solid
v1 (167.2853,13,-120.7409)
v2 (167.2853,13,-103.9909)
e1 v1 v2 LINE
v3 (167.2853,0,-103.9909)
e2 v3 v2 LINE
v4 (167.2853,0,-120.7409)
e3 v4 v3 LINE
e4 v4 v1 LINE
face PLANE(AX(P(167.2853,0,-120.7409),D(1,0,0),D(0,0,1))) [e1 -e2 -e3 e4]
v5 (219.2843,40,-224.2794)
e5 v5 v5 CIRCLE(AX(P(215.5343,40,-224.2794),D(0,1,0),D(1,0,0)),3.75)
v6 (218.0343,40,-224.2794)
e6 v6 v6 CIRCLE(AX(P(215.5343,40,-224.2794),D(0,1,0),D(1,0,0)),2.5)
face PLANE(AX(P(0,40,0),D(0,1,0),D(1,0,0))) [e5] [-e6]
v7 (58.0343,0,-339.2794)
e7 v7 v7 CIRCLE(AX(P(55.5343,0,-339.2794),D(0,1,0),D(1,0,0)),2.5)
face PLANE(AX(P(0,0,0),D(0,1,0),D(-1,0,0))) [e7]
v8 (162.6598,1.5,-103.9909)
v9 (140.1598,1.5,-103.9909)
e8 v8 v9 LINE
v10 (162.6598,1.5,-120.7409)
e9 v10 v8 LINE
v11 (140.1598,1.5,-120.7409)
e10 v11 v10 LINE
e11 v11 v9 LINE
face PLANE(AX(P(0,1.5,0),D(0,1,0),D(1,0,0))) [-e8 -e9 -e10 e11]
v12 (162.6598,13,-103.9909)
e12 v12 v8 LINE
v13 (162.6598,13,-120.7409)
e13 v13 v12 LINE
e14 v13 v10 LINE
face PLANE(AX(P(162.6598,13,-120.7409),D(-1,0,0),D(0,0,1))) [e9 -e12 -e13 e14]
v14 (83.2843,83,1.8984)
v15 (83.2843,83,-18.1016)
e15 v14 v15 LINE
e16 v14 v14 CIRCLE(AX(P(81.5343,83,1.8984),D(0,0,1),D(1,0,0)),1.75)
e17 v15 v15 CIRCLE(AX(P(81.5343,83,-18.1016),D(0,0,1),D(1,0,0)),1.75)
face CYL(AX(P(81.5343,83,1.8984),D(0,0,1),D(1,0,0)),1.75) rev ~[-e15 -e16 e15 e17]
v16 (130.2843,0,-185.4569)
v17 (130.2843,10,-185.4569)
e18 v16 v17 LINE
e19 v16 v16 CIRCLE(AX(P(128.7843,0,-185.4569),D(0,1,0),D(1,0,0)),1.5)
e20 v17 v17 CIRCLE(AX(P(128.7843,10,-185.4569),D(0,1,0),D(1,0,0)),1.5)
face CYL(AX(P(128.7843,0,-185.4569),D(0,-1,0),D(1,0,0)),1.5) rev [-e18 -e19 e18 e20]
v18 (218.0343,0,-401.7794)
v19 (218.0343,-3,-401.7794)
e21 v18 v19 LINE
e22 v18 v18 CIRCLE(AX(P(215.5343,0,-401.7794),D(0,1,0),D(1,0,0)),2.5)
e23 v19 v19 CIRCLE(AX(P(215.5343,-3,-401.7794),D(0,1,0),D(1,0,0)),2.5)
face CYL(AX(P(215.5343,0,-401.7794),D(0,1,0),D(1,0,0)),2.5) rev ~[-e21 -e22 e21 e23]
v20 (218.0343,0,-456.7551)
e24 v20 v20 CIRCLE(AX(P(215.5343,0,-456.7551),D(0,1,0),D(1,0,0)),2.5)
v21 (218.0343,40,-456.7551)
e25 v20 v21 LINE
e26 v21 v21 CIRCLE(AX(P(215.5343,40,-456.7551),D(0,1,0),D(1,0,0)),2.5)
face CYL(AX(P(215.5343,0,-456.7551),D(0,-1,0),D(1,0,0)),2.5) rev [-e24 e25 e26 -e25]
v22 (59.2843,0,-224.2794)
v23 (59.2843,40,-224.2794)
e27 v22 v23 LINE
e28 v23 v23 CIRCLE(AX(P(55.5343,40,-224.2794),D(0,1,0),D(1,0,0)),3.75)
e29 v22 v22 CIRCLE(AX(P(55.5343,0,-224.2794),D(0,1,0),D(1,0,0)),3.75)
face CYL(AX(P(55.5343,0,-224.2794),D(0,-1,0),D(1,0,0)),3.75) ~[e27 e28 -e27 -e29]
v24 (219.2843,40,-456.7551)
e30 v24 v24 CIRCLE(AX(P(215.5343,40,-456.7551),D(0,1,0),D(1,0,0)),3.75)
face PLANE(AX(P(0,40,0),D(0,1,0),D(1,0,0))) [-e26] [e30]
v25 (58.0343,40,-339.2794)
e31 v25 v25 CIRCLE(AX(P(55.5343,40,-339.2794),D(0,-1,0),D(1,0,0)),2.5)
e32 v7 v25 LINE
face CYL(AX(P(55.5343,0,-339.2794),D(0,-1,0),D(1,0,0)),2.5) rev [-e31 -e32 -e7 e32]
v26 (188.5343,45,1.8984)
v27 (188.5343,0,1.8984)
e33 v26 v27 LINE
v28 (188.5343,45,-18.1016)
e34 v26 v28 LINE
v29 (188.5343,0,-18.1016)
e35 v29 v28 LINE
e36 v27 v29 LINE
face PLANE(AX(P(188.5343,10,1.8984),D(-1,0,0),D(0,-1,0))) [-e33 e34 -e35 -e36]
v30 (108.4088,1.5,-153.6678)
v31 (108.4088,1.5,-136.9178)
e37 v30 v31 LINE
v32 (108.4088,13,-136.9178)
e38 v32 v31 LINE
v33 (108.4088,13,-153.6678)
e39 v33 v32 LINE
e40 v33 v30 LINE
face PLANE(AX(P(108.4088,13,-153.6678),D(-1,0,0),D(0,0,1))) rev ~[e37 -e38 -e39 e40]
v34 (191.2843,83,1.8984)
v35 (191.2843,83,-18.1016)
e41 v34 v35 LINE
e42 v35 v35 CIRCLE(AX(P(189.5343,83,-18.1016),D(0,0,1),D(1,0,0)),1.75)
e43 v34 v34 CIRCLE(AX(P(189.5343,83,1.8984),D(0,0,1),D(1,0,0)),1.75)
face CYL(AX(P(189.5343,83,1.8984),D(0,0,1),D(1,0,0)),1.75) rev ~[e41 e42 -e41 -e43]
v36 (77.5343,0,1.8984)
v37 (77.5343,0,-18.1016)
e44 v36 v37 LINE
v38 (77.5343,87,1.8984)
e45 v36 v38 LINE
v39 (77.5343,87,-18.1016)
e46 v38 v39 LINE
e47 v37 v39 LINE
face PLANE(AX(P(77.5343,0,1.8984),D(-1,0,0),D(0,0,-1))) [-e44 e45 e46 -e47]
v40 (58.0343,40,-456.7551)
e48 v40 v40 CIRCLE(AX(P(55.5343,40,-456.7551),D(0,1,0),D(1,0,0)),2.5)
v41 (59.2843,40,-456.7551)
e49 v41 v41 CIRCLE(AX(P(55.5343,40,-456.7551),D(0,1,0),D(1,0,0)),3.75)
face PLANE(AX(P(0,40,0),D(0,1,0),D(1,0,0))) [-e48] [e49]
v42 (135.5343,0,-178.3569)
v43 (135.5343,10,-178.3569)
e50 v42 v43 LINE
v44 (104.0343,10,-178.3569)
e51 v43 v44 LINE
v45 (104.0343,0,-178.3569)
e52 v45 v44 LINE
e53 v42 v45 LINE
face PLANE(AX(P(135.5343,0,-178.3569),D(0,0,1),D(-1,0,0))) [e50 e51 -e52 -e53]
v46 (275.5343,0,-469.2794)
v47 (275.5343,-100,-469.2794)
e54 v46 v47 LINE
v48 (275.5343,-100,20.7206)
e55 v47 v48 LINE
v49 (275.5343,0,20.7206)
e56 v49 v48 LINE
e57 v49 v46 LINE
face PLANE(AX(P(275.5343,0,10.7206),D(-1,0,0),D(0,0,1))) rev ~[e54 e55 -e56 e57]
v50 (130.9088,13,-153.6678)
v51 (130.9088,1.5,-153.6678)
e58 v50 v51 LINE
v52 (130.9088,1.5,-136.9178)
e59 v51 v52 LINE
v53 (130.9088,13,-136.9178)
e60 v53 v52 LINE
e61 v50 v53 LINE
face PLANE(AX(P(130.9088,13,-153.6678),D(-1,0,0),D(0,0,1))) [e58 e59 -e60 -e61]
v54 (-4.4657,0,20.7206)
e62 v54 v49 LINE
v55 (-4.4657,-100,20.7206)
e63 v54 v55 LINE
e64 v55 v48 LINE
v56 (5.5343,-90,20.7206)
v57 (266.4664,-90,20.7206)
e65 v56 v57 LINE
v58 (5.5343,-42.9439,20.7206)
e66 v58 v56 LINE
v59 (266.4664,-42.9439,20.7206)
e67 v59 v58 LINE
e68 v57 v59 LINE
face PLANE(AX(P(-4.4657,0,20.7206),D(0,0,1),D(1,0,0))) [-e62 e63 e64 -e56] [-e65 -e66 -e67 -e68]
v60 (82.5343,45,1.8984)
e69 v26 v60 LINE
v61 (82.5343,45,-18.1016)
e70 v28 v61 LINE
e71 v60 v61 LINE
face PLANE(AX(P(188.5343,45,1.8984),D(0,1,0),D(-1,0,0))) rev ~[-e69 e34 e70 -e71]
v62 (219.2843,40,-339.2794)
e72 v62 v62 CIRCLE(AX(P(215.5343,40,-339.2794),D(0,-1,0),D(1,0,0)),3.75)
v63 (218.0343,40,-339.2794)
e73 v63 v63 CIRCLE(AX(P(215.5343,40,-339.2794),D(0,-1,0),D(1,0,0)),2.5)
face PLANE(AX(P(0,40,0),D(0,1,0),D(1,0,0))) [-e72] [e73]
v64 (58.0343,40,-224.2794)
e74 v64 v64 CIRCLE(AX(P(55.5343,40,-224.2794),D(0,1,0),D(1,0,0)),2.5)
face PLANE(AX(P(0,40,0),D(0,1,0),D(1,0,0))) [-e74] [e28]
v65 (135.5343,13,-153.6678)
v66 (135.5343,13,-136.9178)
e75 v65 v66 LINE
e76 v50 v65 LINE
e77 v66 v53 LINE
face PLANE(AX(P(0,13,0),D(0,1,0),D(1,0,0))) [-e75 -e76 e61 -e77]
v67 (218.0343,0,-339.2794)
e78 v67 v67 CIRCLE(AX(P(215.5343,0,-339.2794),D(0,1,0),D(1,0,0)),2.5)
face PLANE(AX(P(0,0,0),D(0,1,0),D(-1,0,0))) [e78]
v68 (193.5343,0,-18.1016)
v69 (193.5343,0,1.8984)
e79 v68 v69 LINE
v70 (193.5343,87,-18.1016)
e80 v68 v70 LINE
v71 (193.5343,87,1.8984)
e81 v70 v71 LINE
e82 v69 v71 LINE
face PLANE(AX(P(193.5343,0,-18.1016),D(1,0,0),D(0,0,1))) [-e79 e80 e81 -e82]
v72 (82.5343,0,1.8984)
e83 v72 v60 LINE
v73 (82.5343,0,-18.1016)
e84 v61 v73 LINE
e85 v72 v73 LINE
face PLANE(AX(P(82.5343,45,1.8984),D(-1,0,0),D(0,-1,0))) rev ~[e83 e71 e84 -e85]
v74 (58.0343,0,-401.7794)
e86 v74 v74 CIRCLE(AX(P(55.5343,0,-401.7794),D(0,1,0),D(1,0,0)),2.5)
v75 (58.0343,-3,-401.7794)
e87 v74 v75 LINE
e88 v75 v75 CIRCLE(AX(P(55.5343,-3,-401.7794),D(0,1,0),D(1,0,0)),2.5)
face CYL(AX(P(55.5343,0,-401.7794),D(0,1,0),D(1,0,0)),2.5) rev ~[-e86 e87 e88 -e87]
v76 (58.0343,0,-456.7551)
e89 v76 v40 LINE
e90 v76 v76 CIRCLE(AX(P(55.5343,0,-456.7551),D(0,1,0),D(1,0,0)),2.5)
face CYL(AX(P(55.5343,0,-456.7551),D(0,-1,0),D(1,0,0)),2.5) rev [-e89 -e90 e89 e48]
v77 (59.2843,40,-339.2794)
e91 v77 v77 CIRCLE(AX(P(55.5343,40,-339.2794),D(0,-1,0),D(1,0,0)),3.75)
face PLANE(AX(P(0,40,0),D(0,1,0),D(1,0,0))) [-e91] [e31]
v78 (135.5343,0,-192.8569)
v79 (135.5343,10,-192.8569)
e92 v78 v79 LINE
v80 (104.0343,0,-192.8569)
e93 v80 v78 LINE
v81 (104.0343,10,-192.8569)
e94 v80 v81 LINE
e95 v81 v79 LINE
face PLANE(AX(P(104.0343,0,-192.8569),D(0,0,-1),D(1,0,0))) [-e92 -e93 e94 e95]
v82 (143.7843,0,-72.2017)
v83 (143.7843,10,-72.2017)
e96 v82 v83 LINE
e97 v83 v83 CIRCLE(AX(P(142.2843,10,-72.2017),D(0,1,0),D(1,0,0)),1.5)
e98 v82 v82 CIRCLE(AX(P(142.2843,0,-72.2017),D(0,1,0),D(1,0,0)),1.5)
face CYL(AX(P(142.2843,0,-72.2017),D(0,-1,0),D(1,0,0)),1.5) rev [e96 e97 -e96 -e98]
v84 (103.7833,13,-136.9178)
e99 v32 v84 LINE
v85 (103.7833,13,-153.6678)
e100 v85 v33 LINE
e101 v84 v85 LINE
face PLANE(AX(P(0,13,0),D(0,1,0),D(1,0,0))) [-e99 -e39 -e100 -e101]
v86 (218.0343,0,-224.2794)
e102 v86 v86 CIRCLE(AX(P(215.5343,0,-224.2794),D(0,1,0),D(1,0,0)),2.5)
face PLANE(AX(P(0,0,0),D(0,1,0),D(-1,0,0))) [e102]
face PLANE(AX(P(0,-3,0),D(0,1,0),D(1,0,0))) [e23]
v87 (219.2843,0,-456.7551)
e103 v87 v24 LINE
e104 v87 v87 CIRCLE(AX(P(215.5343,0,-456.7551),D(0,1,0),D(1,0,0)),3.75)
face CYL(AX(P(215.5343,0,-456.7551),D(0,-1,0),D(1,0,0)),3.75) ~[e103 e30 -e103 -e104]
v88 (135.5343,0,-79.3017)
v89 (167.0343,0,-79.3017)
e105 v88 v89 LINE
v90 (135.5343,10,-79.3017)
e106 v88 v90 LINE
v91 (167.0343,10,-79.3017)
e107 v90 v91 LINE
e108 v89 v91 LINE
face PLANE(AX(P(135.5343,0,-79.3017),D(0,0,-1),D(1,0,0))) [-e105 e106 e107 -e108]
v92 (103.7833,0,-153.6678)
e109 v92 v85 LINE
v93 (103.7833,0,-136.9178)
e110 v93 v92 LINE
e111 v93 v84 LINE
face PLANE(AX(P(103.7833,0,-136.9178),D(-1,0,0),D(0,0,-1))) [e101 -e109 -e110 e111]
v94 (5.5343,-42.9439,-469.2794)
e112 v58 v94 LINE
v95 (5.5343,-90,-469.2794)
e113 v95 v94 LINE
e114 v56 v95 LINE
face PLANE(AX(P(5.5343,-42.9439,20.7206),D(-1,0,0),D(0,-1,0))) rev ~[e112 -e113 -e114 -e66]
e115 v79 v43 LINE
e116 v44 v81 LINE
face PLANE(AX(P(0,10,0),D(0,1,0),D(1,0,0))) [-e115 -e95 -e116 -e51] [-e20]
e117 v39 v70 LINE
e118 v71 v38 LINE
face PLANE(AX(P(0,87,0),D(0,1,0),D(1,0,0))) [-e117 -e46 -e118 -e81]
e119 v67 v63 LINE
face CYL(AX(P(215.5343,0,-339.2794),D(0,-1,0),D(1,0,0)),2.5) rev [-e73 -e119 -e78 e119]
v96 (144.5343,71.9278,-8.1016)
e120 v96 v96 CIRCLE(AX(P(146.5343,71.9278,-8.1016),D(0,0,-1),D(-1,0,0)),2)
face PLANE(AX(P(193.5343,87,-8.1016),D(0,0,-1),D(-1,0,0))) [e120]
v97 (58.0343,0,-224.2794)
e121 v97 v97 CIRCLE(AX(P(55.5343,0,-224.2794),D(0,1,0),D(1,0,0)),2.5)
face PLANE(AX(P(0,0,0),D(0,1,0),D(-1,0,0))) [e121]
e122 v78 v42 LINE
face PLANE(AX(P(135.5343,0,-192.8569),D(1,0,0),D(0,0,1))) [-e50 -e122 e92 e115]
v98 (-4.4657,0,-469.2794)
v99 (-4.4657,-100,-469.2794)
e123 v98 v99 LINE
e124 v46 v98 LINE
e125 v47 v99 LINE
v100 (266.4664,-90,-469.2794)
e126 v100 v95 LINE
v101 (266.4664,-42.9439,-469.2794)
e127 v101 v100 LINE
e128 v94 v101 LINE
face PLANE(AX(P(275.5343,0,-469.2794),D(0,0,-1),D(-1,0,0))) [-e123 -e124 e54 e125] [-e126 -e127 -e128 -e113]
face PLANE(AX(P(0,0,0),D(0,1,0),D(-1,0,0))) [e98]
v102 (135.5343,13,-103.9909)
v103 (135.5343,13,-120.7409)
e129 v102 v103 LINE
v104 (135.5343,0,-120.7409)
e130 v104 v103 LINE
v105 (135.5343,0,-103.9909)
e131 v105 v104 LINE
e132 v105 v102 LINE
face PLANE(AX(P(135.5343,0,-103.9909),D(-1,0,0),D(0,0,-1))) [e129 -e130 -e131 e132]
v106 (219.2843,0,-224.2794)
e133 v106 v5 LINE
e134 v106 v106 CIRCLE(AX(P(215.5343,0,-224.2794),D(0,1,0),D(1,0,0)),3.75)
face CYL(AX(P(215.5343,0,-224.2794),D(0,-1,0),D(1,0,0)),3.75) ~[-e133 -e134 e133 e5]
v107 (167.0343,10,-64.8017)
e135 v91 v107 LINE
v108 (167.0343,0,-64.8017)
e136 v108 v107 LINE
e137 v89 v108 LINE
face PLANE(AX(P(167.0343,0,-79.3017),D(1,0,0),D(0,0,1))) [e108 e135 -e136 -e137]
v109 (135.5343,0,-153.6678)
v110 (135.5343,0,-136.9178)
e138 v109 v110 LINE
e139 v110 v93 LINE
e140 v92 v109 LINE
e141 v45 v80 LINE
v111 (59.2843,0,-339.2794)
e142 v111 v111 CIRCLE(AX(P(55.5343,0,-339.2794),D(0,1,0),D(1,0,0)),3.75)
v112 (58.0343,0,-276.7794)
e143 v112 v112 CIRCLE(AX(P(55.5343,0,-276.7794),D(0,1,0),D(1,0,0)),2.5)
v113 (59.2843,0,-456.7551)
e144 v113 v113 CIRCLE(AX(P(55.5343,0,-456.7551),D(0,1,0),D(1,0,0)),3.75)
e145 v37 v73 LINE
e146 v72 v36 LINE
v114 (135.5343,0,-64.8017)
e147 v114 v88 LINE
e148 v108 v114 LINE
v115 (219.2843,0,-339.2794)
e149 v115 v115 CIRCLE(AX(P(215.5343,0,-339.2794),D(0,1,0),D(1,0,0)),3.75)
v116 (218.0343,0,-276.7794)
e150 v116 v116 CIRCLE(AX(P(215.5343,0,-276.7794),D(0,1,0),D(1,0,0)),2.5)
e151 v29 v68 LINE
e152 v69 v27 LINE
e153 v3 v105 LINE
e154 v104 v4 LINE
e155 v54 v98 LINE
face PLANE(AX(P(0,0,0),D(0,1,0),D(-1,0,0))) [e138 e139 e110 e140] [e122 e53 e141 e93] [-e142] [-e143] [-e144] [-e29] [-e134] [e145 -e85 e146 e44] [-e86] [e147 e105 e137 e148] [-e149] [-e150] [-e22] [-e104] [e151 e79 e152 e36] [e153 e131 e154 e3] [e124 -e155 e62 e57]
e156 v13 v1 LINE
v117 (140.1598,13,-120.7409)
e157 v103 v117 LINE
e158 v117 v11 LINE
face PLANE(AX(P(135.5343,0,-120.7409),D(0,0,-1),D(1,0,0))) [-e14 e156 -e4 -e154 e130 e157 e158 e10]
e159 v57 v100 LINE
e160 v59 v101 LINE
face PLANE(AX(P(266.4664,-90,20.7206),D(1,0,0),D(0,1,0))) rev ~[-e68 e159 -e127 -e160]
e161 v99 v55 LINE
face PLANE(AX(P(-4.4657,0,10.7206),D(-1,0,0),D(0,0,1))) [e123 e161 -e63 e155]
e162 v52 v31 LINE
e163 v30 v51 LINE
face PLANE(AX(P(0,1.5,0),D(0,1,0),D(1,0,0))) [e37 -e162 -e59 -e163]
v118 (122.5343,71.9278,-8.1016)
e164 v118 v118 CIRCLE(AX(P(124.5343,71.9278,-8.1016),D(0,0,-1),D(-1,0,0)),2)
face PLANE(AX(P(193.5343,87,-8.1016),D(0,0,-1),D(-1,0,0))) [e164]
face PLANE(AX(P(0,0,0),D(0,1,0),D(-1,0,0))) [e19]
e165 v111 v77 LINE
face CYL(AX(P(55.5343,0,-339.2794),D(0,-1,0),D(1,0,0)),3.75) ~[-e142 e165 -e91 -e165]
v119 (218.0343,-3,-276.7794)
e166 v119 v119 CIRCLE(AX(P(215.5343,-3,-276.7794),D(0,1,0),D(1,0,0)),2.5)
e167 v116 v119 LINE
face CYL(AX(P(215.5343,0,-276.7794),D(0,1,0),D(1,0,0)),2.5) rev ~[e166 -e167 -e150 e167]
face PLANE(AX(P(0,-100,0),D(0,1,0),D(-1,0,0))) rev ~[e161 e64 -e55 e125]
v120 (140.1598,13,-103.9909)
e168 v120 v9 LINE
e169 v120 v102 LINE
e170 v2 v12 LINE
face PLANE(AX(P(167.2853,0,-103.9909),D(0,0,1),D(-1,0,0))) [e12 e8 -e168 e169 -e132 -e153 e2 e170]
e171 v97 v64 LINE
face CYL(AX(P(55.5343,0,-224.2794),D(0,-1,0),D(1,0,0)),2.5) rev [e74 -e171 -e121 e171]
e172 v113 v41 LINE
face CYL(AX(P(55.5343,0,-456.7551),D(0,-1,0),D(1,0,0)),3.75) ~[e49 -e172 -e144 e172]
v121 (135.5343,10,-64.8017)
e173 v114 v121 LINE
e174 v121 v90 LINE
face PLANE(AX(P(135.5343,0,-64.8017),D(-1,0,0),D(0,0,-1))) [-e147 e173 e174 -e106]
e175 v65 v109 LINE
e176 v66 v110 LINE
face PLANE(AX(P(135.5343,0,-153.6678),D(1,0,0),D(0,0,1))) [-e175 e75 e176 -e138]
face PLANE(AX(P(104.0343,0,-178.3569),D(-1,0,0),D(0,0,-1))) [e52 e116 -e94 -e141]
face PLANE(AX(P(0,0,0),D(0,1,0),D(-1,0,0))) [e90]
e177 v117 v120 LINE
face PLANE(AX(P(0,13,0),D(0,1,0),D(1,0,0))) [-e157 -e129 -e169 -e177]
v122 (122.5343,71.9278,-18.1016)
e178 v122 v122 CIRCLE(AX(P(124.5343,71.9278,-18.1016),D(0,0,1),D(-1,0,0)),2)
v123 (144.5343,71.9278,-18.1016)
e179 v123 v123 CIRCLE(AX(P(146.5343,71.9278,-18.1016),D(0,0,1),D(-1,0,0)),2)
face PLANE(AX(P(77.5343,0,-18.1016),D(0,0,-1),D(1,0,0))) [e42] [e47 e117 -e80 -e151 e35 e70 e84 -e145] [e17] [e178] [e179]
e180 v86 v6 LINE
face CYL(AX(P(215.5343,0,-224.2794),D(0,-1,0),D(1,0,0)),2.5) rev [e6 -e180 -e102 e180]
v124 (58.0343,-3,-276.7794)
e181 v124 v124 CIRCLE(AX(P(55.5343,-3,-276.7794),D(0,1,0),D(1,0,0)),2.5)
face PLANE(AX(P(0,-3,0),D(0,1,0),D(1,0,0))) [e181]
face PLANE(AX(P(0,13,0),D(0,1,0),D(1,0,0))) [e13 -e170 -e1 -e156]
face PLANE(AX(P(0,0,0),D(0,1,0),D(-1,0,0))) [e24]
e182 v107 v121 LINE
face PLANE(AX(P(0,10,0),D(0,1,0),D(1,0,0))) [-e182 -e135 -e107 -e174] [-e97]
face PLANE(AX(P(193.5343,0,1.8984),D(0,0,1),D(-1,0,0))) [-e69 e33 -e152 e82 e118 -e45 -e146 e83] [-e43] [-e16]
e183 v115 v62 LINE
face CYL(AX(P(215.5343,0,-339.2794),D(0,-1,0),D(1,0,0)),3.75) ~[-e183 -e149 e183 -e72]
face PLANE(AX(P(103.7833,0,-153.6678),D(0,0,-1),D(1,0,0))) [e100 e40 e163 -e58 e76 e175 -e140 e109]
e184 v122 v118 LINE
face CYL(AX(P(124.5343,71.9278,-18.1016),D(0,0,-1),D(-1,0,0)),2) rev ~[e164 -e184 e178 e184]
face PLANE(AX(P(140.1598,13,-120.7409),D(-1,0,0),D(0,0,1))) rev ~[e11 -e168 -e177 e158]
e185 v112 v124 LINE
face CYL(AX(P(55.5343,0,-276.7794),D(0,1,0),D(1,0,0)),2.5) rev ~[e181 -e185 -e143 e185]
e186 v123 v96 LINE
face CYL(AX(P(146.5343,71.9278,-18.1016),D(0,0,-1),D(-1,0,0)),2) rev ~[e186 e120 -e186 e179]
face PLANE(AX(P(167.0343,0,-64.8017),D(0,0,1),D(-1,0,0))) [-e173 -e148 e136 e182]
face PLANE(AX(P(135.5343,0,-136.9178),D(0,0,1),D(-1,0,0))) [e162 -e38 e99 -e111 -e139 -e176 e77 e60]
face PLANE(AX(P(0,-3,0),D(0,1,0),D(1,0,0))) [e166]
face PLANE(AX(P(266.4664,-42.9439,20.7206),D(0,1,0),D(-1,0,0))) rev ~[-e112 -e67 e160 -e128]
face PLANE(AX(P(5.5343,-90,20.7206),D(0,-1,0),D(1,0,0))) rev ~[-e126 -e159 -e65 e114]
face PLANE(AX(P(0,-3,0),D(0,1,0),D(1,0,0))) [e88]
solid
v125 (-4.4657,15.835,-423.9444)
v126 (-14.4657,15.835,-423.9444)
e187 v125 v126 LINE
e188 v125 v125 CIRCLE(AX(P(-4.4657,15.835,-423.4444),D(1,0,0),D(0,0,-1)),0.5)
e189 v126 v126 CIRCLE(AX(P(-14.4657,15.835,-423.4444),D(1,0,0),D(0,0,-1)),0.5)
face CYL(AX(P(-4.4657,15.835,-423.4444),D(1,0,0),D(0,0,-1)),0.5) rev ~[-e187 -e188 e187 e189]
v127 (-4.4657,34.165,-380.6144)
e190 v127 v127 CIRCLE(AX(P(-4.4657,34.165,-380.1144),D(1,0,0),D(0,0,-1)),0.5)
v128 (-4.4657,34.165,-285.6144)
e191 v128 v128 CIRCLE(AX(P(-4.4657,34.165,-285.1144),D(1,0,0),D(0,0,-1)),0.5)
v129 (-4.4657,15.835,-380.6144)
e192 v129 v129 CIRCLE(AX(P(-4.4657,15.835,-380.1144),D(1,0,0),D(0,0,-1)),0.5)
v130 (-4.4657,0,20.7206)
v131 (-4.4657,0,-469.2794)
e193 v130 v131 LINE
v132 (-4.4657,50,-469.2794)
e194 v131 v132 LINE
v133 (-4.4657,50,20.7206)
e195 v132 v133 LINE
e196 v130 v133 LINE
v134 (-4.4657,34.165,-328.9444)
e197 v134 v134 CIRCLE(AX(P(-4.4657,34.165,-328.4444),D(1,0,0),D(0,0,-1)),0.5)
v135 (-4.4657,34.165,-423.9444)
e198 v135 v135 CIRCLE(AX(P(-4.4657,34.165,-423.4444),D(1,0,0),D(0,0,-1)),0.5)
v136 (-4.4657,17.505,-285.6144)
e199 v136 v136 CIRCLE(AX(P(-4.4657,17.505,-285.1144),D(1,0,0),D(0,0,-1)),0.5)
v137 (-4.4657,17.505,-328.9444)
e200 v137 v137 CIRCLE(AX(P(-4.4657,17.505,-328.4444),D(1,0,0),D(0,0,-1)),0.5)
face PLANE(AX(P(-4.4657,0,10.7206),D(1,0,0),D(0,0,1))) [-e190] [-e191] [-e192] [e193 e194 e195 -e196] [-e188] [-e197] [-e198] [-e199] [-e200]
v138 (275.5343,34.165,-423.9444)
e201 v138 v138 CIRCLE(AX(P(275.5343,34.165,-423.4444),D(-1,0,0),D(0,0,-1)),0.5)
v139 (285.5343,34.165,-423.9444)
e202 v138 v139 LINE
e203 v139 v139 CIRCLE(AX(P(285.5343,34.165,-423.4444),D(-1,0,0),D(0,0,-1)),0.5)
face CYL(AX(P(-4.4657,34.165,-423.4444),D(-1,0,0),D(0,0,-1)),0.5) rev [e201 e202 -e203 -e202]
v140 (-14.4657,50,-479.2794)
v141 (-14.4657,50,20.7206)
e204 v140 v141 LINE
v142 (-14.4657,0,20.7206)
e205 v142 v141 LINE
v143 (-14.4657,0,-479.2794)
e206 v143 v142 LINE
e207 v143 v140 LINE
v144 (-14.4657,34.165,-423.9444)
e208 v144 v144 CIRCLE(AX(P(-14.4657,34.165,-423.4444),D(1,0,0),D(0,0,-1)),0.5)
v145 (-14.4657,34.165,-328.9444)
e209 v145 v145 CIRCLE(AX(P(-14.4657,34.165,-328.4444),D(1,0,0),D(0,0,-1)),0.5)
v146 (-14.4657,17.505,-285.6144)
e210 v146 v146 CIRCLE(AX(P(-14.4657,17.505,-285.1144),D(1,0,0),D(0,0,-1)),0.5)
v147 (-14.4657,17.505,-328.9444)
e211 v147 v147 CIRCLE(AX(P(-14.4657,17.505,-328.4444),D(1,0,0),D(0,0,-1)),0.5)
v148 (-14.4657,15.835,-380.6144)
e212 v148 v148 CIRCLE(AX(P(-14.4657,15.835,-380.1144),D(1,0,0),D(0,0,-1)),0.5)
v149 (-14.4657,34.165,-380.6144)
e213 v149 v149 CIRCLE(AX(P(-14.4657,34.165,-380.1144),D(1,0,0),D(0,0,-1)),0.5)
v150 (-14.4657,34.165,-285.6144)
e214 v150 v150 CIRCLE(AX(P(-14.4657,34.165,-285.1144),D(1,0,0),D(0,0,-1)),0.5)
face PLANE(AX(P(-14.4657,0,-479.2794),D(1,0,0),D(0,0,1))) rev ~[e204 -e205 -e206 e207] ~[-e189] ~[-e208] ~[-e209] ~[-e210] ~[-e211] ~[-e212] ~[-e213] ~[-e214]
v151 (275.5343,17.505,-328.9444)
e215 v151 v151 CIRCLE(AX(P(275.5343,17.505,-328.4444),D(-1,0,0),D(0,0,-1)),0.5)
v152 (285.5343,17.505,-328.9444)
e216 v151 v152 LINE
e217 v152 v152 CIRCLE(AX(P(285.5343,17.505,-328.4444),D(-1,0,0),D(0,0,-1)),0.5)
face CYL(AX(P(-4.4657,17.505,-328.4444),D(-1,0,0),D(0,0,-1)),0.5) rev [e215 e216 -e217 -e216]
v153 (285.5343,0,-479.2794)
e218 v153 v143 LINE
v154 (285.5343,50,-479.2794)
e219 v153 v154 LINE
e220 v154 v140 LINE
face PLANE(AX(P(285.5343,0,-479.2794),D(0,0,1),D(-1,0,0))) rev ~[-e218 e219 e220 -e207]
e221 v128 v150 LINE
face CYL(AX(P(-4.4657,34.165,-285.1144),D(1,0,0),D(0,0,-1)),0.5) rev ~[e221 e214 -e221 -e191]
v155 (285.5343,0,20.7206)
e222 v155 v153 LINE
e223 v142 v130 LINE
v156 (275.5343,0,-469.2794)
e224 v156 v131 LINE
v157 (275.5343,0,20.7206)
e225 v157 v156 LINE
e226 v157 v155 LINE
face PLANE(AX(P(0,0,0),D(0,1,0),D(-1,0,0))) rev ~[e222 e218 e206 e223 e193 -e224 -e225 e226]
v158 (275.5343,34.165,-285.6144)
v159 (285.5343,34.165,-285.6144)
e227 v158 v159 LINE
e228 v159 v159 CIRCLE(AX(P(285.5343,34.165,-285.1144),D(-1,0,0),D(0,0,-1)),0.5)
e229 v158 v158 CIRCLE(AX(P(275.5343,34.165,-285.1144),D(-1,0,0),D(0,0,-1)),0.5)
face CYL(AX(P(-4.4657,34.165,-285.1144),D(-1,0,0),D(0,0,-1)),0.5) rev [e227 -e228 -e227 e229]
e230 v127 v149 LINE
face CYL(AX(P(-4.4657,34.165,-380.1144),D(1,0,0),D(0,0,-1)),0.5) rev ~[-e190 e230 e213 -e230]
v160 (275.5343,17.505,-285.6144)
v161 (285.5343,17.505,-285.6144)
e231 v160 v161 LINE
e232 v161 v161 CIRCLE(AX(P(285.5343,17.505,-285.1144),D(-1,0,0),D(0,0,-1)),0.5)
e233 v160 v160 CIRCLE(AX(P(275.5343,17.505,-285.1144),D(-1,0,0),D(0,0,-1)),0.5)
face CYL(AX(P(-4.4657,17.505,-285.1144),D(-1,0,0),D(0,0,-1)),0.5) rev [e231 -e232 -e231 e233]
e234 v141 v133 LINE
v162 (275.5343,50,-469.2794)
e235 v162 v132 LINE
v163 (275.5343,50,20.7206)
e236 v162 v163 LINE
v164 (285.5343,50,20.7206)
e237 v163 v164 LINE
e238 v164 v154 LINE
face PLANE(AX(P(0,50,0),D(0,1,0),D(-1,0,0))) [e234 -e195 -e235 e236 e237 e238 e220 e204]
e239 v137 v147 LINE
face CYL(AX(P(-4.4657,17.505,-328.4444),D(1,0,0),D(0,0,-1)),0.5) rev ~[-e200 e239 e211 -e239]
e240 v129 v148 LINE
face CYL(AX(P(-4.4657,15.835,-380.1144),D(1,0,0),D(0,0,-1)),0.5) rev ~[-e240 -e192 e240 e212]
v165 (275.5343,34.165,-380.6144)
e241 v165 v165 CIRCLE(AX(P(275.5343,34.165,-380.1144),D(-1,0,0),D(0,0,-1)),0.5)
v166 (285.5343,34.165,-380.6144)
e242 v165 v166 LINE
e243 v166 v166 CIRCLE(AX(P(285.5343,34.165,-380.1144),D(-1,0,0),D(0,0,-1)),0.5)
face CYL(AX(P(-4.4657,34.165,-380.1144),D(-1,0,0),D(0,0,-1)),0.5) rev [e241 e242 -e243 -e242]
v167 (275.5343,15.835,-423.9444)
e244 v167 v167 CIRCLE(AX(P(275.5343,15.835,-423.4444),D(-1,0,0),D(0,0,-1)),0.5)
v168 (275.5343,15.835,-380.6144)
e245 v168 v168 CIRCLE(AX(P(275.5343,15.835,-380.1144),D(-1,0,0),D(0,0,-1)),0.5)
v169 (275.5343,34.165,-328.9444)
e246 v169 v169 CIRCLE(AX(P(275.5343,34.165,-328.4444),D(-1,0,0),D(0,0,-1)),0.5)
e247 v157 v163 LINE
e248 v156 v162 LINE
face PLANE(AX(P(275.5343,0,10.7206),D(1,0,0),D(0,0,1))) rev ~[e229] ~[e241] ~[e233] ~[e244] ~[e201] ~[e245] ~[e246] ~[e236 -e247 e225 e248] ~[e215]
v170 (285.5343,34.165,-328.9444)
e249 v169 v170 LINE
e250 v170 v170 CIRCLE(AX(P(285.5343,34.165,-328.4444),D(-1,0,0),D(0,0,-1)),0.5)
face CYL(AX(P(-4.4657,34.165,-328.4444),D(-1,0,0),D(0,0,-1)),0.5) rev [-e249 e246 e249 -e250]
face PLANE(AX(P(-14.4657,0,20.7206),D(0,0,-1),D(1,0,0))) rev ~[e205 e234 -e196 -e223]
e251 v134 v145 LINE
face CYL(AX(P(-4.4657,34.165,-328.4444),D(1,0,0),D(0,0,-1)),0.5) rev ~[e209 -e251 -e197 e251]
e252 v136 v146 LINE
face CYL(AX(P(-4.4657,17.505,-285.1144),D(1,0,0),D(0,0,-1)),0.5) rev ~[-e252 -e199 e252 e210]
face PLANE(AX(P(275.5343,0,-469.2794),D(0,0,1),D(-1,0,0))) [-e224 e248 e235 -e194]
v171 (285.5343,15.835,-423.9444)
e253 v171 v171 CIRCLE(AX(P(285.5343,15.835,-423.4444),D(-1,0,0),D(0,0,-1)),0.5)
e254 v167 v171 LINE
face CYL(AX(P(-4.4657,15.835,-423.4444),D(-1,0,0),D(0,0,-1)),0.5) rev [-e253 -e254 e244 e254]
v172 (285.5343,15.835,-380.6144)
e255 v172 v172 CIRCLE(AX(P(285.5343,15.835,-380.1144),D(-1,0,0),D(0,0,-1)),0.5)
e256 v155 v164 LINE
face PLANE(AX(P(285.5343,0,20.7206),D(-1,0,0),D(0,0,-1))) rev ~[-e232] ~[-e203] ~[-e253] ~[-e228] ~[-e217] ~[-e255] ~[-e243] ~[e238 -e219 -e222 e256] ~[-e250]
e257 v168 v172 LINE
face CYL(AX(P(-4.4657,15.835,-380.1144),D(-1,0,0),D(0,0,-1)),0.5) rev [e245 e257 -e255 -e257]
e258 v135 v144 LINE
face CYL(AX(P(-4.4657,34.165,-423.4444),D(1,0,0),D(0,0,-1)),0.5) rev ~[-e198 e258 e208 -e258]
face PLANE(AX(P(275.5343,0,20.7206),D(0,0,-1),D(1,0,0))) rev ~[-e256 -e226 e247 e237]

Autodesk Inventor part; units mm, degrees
ref_plane "YZ Plane" through (0, 0, 0) normal (1, 0, 0) x (0, 1, 0)
ref_plane "XZ Plane" through (0, 0, 0) normal (0, 1, 0) x (-1, 0, 0)
ref_plane "XY Plane" through (0, 0, 0) normal (0, 0, 1) x (1, 0, 0)
sketch "Sketch2" plane through (0, 0, 0) normal (0, 1, 0) x (-1, 0, 0)
  line L0 (14.4657, 20.7206) -> (-285.5343, 20.7206)
  line L1 (-285.5343, 20.7206) -> (-285.5343, -479.2794)
  line L2 (-285.5343, -479.2794) -> (14.4657, -479.2794)
  line L3 (14.4657, -479.2794) -> (14.4657, 20.7206)
  line L4 (-275.5343, 10.7206) -> (-275.5343, -469.2794)
  line L5 (-275.5343, -469.2794) -> (4.4657, -469.2794)
  line L6 (4.4657, -469.2794) -> (4.4657, 10.7206)
  line L7 (4.4657, 10.7206) -> (4.4657, 20.7206)
  line L8 (-275.5343, 10.7206) -> (-275.5343, 20.7206)
  point P0 (0, 0)
  dimension "d5" = 300
  dimension "d6" = 500
  dimension "d7" = 10
extrude "Extrusion2" add sketch "Sketch2" against normal blind 100 contours L7 L6 L5 L4 L8 L0
extrude "Extrusion3" add sketch "Sketch2" along normal blind 50 contours L3 L2 L1 L0 L8 L4 L5 L6 L7
sketch "Sketch3" plane through (0, 0, 0) normal (0, 1, 0) x (1, 0, 0)
  point P0 (0, 0)
sketch "Sketch4" plane through (0, 0, 0) normal (0, 1, 0) x (1, 0, 0)
  line L0 (-4.4657, 469.2794) -> (-4.4657, -20.7206) projected
  line L1 (-4.4657, -20.7206) -> (275.5343, -20.7206) projected
  line L2 (275.5343, -20.7206) -> (275.5343, 469.2794) projected
  line L3 (275.5343, 469.2794) -> (-4.4657, 469.2794) projected
  line L4 (265.5343, 439.2794) -> (165.5343, 439.2794)
  line L5 (165.5343, 439.2794) -> (165.5343, 364.2794)
  line L6 (165.5343, 364.2794) -> (265.5343, 364.2794)
  line L7 (265.5343, 364.2794) -> (265.5343, 439.2794)
  line L8 (-4.4657, 469.2794) -> (275.5343, 469.2794)
  line L9 (-4.4657, 469.2794) -> (275.5343, 469.2794)
  line L10 (135.5343, 469.2794) -> (135.5343, 234.4175)
  line L11 (0, 339.2794) -> (275.5343, 339.2794)
  line L12 (5.5343, 439.2794) -> (105.5343, 439.2794)
  line L13 (105.5343, 439.2794) -> (105.5343, 364.2794)
  line L14 (105.5343, 364.2794) -> (5.5343, 364.2794)
  line L15 (5.5343, 364.2794) -> (5.5343, 439.2794)
  line L16 (265.5343, 239.2794) -> (165.5343, 239.2794)
  line L17 (165.5343, 239.2794) -> (165.5343, 314.2794)
  line L18 (165.5343, 314.2794) -> (265.5343, 314.2794)
  line L19 (265.5343, 314.2794) -> (265.5343, 239.2794)
  line L20 (5.5343, 239.2794) -> (105.5343, 239.2794)
  line L21 (105.5343, 239.2794) -> (105.5343, 314.2794)
  line L22 (105.5343, 314.2794) -> (5.5343, 314.2794)
  line L23 (5.5343, 314.2794) -> (5.5343, 239.2794)
  line L24 (135.5343, 79.3017) -> (167.0343, 79.3017)
  line L25 (167.0343, 79.3017) -> (167.0343, 64.8017)
  line L26 (167.0343, 64.8017) -> (135.5343, 64.8017)
  line L27 (135.5343, 64.8017) -> (135.5343, 79.3017)
  circle A0 centre (142.2843, 72.2017) radius 1.5
  line L28 (135.5343, 120.7409) -> (167.2853, 120.7409)
  line L29 (167.2853, 120.7409) -> (167.2853, 103.9909)
  line L30 (167.2853, 103.9909) -> (135.5343, 103.9909)
  line L31 (135.5343, 103.9909) -> (135.5343, 120.7409)
  line L32 (135.5343, 192.8569) -> (135.5343, 178.3569)
  line L33 (135.5343, 153.6678) -> (135.5343, 136.9178)
  line L34 (103.7833, 136.9178) -> (103.7833, 153.6678)
  line L35 (103.7833, 153.6678) -> (135.5343, 153.6678)
  circle A1 centre (128.7843, 185.4569) radius 1.5
  line L36 (135.5343, 178.3569) -> (104.0343, 178.3569)
  line L37 (104.0343, 178.3569) -> (104.0343, 192.8569)
  line L38 (104.0343, 192.8569) -> (135.5343, 192.8569)
  line L39 (135.5343, 136.9178) -> (103.7833, 136.9178)
  circle A2 centre (55.5343, 401.7794) radius 2.5
  circle A3 centre (215.5343, 401.7794) radius 2.5
  circle A4 centre (55.5343, 276.7794) radius 2.5
  circle A5 centre (215.5343, 276.7794) radius 2.5
  line L40 (275.5343, 469.2794) -> (275.5343, -20.7206) projected
  line L41 (-4.4657, -20.7206) -> (275.5343, -20.7206)
  line L42 (275.5343, -20.7206) -> (275.5343, -10.7206)
  line L43 (-4.4657, -10.7206) -> (-4.4657, -20.7206)
  line L44 (-4.4657, 469.2794) -> (-4.4657, -20.7206) projected
  line L45 (-4.4657, -20.7206) -> (275.5343, -20.7206) projected
  line L46 (275.5343, -20.7206) -> (275.5343, 469.2794) projected
  line L47 (275.5343, 469.2794) -> (-4.4657, 469.2794) projected
  line L48 (77.5343, 18.1016) -> (193.5343, 18.1016)
  line L49 (193.5343, 18.1016) -> (193.5343, -1.8984)
  line L50 (193.5343, -1.8984) -> (77.5343, -1.8984)
  line L51 (77.5343, -1.8984) -> (77.5343, 18.1016)
  circle A6 centre (55.5343, 456.7551) radius 3.75
  circle A7 centre (55.5343, 339.2794) radius 3.75
  circle A8 centre (55.5343, 224.2794) radius 3.75
  circle A9 centre (215.5343, 456.7551) radius 3.75
  circle A10 centre (215.5343, 339.2794) radius 3.75
  circle A11 centre (215.5343, 224.2794) radius 3.75
  circle A12 centre (55.5343, 456.7551) radius 2.5
  circle A13 centre (215.5343, 456.7551) radius 2.5
  circle A14 centre (215.5343, 339.2794) radius 2.5
  circle A15 centre (215.5343, 224.2794) radius 2.5
  circle A16 centre (55.5343, 224.2794) radius 2.5
  circle A17 centre (55.5343, 339.2794) radius 2.5
  point P0 (0, 0)
  point P1 (77.5343, 8.1016)
  dimension "d13" = 100
  dimension "d14" = 75
  dimension "d15" = 30
  dimension "d16" = 10
  dimension "d18" = 25
  dimension "d33" = 31.5
  dimension "d34" = 14.5
  dimension "d35" = 3
  dimension "d36" = 6.75
  dimension "d37" = 7.1
  dimension "d38" = 31.751
  dimension "d39" = 16.75
  dimension "d69" = 5
  dimension "d70" = 37.5
  dimension "d71" = 50
  dimension "d75" = 116
  dimension "d76" = 20
  dimension "d77" = 82
  dimension "d90" = 7.5
  dimension "d91" = 80
  dimension "d92" = 7.5
  dimension "d93" = 80
  dimension "d94" = 7.5
  dimension "d95" = 80
  dimension "d98" = 5
  dimension "d99" = 5
  dimension "d100" = 5
  dimension "d101" = 5
  dimension "d102" = 5
  dimension "d103" = 5
extrude "Extrusion4" add sketch "Sketch4" along normal blind 10 contours L32 L36 L37 L38
sketch "Sketch5" plane through (-4.4657, -100, 20.7206) normal (0, 0, 1) x (1, 0, 0)
  line L0 (0, 100) -> (0, 0) projected
  line L1 (0, 67.0561) -> (280.9321, 67.0561)
  line L2 (280.9321, 67.0561) -> (280.9321, 0)
  line L3 (280.9321, 0) -> (0, 0)
  line L4 (0, 0) -> (0, 67.0561)
  line L5 (270.9321, 57.0561) -> (10, 57.0561)
  line L6 (10, 57.0561) -> (10, 10)
  line L7 (10, 10) -> (270.9321, 10)
  line L8 (270.9321, 10) -> (270.9321, 57.0561)
  point P0 (4.4657, 100)
  dimension "d24" = 10
extrude "Extrusion5" cut sketch "Sketch5" against normal through all contours L8 L7 L6 L5
extrude "Extrusion6" add sketch "Sketch4" along normal blind 10 contours L33 L39 L34 L35
extrude "Extrusion7" add sketch "Sketch4" along normal blind 13 contours L28 L29 L30 L31 | L33 L39 L34 L35
extrude "Extrusion8" add sketch "Sketch4" along normal blind 10 contours L24 L25 L26 L27
sketch "Sketch6" plane through (0, 13, 0) normal (0, 1, 0) x (1, 0, 0)
  line L0 (104.0343, 192.8569) -> (135.5343, 192.8569) projected
  line L1 (135.5343, 192.8569) -> (135.5343, 178.3569) projected
  line L2 (135.5343, 178.3569) -> (104.0343, 178.3569) projected
  line L3 (104.0343, 178.3569) -> (104.0343, 192.8569) projected
  line L4 (-4.4657, 469.2794) -> (-4.4657, -20.7206) projected
  line L5 (-4.4657, -20.7206) -> (275.5343, -20.7206) projected
  line L6 (275.5343, -20.7206) -> (275.5343, 469.2794) projected
  line L7 (275.5343, 469.2794) -> (-4.4657, 469.2794) projected
  line L8 (103.7833, 153.6678) -> (135.5343, 153.6678) projected
  line L9 (135.5343, 153.6678) -> (135.5343, 136.9178) projected
  line L10 (135.5343, 136.9178) -> (103.7833, 136.9178) projected
  line L11 (103.7833, 136.9178) -> (103.7833, 153.6678) projected
  line L12 (135.5343, 103.9909) -> (135.5343, 120.7409) projected
  line L13 (135.5343, 120.7409) -> (167.2853, 120.7409) projected
  line L14 (167.2853, 120.7409) -> (167.2853, 103.9909) projected
  line L15 (167.2853, 103.9909) -> (135.5343, 103.9909) projected
  line L16 (135.5343, 64.8017) -> (135.5343, 79.3017) projected
  line L17 (135.5343, 79.3017) -> (167.0343, 79.3017) projected
  line L18 (167.0343, 79.3017) -> (167.0343, 64.8017) projected
  line L19 (167.0343, 64.8017) -> (135.5343, 64.8017) projected
  line L20 (103.7833, 153.6678) -> (135.5343, 153.6678)
  line L21 (135.5343, 153.6678) -> (135.5343, 136.9178)
  line L22 (135.5343, 136.9178) -> (103.7833, 136.9178)
  line L23 (103.7833, 136.9178) -> (103.7833, 153.6678)
  line L24 (108.4088, 153.6678) -> (108.4088, 136.9178)
  line L25 (103.7833, 153.6678) -> (135.5343, 153.6678) projected
  line L26 (130.9088, 153.6678) -> (130.9088, 136.9178)
  line L27 (135.5343, 120.7409) -> (167.2853, 120.7409)
  line L28 (167.2853, 120.7409) -> (167.2853, 103.9909)
  line L29 (167.2853, 103.9909) -> (135.5343, 103.9909)
  line L30 (135.5343, 103.9909) -> (135.5343, 120.7409)
  line L31 (135.5343, 120.7409) -> (167.2853, 120.7409) projected
  line L32 (140.1598, 120.7409) -> (140.1598, 103.9909)
  line L33 (162.6598, 120.7409) -> (162.6598, 103.9909)
  point P0 (0, 0)
  point P1 (135.5343, 112.3659)
  point P2 (140.1598, 112.3659)
  dimension "d46" = 22.5
  dimension "d47" = 4.6255
  dimension "d48" = 4.6255
  dimension "d49" = 22.5
extrude "Extrusion9" cut sketch "Sketch6" against normal blind 11.5 contours L8 L26 L10 L24 | L32 L13 L33 L15
sketch "Sketch7" plane through (-4.4657, 0, 20.7206) normal (1, 0, 0) x (0, 0, -1)
  line L0 (0, 0) -> (490, 0) projected
  line L1 (490, 50) -> (0, 50) projected
  line L2 (490, 0) -> (490, 50)
  line L3 (0, 0) -> (500, 0) projected
  line L4 (500, 0) -> (500, 50) projected
  line L5 (0, 50) -> (500, 50) projected
  line L6 (0, 0) -> (0, 50) projected
  line L7 (490, 0) -> (490, 50)
  line L8 (490, 50) -> (445, 50)
  line L9 (445, 50) -> (445, 35)
  line L10 (445, 35) -> (400, 35)
  line L11 (400, 35) -> (400, 15)
  line L12 (400, 15) -> (445, 15)
  line L13 (445, 15) -> (445, 35)
  line L14 (400, 35) -> (350, 35)
  line L15 (350, 35) -> (350, 15)
  line L16 (350, 15) -> (305, 15)
  line L17 (305, 15) -> (305, 35)
  line L18 (305, 35) -> (350, 35)
  circle A0 centre (444.165, 34.165) radius 0.5
  line L19 (445, 35) -> (422.5, 35)
  line L20 (422.5, 35) -> (422.5, 15)
  line L21 (445, 35) -> (445, 25)
  line L22 (445, 25) -> (400, 25)
  circle A1 centre (444.165, 15.835) radius 0.5
  circle A2 centre (400.835, 34.165) radius 0.5
  circle A3 centre (400.835, 15.835) radius 0.5
  line L23 (305, 15.835) -> (305, 25)
  line L24 (350, 15) -> (327.5, 15)
  line L25 (327.5, 15) -> (327.5, 35)
  line L26 (305, 15.835) -> (305, 25.835)
  line L27 (305, 25.835) -> (350, 25.835)
  circle A4 centre (349.165, 34.165) radius 0.5
  circle A5 centre (349.165, 17.505) radius 0.5
  circle A6 centre (305.835, 34.165) radius 0.5
  circle A7 centre (305.835, 17.505) radius 0.5
  point P0 (20.7206, 0)
  dimension "d52" = 45
  dimension "d53" = 15
  dimension "d54" = 45
  dimension "d55" = 20
  dimension "d56" = 50
  dimension "d57" = 20
  dimension "d58" = 45
  dimension "d59" = 1
  dimension "d60" = 0.835
  dimension "d61" = 0.835
  dimension "d63" = 10
  dimension "d64" = 1
  dimension "d65" = 0.835
  dimension "d66" = 0.835
extrude "Extrusion10" cut sketch "Sketch7" along normal mid plane 1159.25 contours A0 | A1 | A2 | A3 | A4 | A5 | A6 | A7
extrude "Extrusion11" cut sketch "Sketch4" against normal blind 3 contours A2 | A3 | A4 | A5
extrude "Extrusion12" add sketch "Sketch4" along normal blind 87 contours L48 L49 L50 L51
sketch "Sketch8" plane through (77.5343, 0, 1.8984) normal (0, 0, 1) x (1, 0, 0)
  line L0 (0, 87) -> (116, 87)
  line L1 (0, 0) -> (0, 87) projected
  line L2 (0, 50) -> (116, 50)
  circle A0 centre (112, 83) radius 1.75
  circle A1 centre (4, 83) radius 1.75
  line L3 (0, 50) -> (116, 50)
  line L4 (116, 50) -> (116, 0)
  line L5 (116, 0) -> (0, 0)
  line L6 (0, 0) -> (0, 50)
  line L7 (111, 10) -> (111, 45)
  line L8 (111, 45) -> (5, 45)
  line L9 (5, 45) -> (5, 10)
  line L10 (5, 10) -> (5, 0.58)
  line L11 (111, 10) -> (111, 0)
  line L12 (5, 0.58) -> (5, 0)
  line L13 (-82, 0) -> (198, 0) projected
  line L14 (5, 0) -> (111, 0)
  point P0 (-77.5343, 0)
  point P1 (5, 0)
  dimension "d82" = 3.5
  dimension "d87" = 5
extrude "Extrusion13" cut sketch "Sketch8" against normal blind 20 contours A0 | A1
extrude "Extrusion14" cut sketch "Sketch8" against normal blind 20 contours L12 L10 L9 L8 L7 L11 L5
extrude "Extrusion16" add sketch "Sketch4" along normal blind 40 contours A7 L11 A17 | L11 A17 A7 | A10 L11 A14 | L11 A14 A10 | A6 | A8 | A9 | A11
sketch "Sketch9" plane through (193.5343, 87, -18.1016) normal (0, 0, -1) x (-1, 0, 0)
  line L0 (43, -0.9568) -> (73, -0.9568)
  line L1 (73, -0.9568) -> (73, -29.1877)
  line L2 (73, -29.1877) -> (43, -29.1877)
  line L3 (43, -29.1877) -> (43, -0.9568)
  line L4 (0, -87) -> (0, 0) projected
  line L5 (43, -15.0722) -> (73, -15.0722)
  circle A0 centre (47, -15.0722) radius 2
  circle A1 centre (69, -15.0722) radius 2
  point P0 (193.5343, -87)
  dimension "d106" = 30
  dimension "d107" = 43
  dimension "d108" = 4
  dimension "d109" = 4
  dimension "d110" = 4
  dimension "d111" = 4
extrude "Extrusion17" cut sketch "Sketch9" against normal blind 10 contours A0 L5 | L5 A0 | A1 L5 | L5 A1
properties part number "box" material "Wood (Birch)"
